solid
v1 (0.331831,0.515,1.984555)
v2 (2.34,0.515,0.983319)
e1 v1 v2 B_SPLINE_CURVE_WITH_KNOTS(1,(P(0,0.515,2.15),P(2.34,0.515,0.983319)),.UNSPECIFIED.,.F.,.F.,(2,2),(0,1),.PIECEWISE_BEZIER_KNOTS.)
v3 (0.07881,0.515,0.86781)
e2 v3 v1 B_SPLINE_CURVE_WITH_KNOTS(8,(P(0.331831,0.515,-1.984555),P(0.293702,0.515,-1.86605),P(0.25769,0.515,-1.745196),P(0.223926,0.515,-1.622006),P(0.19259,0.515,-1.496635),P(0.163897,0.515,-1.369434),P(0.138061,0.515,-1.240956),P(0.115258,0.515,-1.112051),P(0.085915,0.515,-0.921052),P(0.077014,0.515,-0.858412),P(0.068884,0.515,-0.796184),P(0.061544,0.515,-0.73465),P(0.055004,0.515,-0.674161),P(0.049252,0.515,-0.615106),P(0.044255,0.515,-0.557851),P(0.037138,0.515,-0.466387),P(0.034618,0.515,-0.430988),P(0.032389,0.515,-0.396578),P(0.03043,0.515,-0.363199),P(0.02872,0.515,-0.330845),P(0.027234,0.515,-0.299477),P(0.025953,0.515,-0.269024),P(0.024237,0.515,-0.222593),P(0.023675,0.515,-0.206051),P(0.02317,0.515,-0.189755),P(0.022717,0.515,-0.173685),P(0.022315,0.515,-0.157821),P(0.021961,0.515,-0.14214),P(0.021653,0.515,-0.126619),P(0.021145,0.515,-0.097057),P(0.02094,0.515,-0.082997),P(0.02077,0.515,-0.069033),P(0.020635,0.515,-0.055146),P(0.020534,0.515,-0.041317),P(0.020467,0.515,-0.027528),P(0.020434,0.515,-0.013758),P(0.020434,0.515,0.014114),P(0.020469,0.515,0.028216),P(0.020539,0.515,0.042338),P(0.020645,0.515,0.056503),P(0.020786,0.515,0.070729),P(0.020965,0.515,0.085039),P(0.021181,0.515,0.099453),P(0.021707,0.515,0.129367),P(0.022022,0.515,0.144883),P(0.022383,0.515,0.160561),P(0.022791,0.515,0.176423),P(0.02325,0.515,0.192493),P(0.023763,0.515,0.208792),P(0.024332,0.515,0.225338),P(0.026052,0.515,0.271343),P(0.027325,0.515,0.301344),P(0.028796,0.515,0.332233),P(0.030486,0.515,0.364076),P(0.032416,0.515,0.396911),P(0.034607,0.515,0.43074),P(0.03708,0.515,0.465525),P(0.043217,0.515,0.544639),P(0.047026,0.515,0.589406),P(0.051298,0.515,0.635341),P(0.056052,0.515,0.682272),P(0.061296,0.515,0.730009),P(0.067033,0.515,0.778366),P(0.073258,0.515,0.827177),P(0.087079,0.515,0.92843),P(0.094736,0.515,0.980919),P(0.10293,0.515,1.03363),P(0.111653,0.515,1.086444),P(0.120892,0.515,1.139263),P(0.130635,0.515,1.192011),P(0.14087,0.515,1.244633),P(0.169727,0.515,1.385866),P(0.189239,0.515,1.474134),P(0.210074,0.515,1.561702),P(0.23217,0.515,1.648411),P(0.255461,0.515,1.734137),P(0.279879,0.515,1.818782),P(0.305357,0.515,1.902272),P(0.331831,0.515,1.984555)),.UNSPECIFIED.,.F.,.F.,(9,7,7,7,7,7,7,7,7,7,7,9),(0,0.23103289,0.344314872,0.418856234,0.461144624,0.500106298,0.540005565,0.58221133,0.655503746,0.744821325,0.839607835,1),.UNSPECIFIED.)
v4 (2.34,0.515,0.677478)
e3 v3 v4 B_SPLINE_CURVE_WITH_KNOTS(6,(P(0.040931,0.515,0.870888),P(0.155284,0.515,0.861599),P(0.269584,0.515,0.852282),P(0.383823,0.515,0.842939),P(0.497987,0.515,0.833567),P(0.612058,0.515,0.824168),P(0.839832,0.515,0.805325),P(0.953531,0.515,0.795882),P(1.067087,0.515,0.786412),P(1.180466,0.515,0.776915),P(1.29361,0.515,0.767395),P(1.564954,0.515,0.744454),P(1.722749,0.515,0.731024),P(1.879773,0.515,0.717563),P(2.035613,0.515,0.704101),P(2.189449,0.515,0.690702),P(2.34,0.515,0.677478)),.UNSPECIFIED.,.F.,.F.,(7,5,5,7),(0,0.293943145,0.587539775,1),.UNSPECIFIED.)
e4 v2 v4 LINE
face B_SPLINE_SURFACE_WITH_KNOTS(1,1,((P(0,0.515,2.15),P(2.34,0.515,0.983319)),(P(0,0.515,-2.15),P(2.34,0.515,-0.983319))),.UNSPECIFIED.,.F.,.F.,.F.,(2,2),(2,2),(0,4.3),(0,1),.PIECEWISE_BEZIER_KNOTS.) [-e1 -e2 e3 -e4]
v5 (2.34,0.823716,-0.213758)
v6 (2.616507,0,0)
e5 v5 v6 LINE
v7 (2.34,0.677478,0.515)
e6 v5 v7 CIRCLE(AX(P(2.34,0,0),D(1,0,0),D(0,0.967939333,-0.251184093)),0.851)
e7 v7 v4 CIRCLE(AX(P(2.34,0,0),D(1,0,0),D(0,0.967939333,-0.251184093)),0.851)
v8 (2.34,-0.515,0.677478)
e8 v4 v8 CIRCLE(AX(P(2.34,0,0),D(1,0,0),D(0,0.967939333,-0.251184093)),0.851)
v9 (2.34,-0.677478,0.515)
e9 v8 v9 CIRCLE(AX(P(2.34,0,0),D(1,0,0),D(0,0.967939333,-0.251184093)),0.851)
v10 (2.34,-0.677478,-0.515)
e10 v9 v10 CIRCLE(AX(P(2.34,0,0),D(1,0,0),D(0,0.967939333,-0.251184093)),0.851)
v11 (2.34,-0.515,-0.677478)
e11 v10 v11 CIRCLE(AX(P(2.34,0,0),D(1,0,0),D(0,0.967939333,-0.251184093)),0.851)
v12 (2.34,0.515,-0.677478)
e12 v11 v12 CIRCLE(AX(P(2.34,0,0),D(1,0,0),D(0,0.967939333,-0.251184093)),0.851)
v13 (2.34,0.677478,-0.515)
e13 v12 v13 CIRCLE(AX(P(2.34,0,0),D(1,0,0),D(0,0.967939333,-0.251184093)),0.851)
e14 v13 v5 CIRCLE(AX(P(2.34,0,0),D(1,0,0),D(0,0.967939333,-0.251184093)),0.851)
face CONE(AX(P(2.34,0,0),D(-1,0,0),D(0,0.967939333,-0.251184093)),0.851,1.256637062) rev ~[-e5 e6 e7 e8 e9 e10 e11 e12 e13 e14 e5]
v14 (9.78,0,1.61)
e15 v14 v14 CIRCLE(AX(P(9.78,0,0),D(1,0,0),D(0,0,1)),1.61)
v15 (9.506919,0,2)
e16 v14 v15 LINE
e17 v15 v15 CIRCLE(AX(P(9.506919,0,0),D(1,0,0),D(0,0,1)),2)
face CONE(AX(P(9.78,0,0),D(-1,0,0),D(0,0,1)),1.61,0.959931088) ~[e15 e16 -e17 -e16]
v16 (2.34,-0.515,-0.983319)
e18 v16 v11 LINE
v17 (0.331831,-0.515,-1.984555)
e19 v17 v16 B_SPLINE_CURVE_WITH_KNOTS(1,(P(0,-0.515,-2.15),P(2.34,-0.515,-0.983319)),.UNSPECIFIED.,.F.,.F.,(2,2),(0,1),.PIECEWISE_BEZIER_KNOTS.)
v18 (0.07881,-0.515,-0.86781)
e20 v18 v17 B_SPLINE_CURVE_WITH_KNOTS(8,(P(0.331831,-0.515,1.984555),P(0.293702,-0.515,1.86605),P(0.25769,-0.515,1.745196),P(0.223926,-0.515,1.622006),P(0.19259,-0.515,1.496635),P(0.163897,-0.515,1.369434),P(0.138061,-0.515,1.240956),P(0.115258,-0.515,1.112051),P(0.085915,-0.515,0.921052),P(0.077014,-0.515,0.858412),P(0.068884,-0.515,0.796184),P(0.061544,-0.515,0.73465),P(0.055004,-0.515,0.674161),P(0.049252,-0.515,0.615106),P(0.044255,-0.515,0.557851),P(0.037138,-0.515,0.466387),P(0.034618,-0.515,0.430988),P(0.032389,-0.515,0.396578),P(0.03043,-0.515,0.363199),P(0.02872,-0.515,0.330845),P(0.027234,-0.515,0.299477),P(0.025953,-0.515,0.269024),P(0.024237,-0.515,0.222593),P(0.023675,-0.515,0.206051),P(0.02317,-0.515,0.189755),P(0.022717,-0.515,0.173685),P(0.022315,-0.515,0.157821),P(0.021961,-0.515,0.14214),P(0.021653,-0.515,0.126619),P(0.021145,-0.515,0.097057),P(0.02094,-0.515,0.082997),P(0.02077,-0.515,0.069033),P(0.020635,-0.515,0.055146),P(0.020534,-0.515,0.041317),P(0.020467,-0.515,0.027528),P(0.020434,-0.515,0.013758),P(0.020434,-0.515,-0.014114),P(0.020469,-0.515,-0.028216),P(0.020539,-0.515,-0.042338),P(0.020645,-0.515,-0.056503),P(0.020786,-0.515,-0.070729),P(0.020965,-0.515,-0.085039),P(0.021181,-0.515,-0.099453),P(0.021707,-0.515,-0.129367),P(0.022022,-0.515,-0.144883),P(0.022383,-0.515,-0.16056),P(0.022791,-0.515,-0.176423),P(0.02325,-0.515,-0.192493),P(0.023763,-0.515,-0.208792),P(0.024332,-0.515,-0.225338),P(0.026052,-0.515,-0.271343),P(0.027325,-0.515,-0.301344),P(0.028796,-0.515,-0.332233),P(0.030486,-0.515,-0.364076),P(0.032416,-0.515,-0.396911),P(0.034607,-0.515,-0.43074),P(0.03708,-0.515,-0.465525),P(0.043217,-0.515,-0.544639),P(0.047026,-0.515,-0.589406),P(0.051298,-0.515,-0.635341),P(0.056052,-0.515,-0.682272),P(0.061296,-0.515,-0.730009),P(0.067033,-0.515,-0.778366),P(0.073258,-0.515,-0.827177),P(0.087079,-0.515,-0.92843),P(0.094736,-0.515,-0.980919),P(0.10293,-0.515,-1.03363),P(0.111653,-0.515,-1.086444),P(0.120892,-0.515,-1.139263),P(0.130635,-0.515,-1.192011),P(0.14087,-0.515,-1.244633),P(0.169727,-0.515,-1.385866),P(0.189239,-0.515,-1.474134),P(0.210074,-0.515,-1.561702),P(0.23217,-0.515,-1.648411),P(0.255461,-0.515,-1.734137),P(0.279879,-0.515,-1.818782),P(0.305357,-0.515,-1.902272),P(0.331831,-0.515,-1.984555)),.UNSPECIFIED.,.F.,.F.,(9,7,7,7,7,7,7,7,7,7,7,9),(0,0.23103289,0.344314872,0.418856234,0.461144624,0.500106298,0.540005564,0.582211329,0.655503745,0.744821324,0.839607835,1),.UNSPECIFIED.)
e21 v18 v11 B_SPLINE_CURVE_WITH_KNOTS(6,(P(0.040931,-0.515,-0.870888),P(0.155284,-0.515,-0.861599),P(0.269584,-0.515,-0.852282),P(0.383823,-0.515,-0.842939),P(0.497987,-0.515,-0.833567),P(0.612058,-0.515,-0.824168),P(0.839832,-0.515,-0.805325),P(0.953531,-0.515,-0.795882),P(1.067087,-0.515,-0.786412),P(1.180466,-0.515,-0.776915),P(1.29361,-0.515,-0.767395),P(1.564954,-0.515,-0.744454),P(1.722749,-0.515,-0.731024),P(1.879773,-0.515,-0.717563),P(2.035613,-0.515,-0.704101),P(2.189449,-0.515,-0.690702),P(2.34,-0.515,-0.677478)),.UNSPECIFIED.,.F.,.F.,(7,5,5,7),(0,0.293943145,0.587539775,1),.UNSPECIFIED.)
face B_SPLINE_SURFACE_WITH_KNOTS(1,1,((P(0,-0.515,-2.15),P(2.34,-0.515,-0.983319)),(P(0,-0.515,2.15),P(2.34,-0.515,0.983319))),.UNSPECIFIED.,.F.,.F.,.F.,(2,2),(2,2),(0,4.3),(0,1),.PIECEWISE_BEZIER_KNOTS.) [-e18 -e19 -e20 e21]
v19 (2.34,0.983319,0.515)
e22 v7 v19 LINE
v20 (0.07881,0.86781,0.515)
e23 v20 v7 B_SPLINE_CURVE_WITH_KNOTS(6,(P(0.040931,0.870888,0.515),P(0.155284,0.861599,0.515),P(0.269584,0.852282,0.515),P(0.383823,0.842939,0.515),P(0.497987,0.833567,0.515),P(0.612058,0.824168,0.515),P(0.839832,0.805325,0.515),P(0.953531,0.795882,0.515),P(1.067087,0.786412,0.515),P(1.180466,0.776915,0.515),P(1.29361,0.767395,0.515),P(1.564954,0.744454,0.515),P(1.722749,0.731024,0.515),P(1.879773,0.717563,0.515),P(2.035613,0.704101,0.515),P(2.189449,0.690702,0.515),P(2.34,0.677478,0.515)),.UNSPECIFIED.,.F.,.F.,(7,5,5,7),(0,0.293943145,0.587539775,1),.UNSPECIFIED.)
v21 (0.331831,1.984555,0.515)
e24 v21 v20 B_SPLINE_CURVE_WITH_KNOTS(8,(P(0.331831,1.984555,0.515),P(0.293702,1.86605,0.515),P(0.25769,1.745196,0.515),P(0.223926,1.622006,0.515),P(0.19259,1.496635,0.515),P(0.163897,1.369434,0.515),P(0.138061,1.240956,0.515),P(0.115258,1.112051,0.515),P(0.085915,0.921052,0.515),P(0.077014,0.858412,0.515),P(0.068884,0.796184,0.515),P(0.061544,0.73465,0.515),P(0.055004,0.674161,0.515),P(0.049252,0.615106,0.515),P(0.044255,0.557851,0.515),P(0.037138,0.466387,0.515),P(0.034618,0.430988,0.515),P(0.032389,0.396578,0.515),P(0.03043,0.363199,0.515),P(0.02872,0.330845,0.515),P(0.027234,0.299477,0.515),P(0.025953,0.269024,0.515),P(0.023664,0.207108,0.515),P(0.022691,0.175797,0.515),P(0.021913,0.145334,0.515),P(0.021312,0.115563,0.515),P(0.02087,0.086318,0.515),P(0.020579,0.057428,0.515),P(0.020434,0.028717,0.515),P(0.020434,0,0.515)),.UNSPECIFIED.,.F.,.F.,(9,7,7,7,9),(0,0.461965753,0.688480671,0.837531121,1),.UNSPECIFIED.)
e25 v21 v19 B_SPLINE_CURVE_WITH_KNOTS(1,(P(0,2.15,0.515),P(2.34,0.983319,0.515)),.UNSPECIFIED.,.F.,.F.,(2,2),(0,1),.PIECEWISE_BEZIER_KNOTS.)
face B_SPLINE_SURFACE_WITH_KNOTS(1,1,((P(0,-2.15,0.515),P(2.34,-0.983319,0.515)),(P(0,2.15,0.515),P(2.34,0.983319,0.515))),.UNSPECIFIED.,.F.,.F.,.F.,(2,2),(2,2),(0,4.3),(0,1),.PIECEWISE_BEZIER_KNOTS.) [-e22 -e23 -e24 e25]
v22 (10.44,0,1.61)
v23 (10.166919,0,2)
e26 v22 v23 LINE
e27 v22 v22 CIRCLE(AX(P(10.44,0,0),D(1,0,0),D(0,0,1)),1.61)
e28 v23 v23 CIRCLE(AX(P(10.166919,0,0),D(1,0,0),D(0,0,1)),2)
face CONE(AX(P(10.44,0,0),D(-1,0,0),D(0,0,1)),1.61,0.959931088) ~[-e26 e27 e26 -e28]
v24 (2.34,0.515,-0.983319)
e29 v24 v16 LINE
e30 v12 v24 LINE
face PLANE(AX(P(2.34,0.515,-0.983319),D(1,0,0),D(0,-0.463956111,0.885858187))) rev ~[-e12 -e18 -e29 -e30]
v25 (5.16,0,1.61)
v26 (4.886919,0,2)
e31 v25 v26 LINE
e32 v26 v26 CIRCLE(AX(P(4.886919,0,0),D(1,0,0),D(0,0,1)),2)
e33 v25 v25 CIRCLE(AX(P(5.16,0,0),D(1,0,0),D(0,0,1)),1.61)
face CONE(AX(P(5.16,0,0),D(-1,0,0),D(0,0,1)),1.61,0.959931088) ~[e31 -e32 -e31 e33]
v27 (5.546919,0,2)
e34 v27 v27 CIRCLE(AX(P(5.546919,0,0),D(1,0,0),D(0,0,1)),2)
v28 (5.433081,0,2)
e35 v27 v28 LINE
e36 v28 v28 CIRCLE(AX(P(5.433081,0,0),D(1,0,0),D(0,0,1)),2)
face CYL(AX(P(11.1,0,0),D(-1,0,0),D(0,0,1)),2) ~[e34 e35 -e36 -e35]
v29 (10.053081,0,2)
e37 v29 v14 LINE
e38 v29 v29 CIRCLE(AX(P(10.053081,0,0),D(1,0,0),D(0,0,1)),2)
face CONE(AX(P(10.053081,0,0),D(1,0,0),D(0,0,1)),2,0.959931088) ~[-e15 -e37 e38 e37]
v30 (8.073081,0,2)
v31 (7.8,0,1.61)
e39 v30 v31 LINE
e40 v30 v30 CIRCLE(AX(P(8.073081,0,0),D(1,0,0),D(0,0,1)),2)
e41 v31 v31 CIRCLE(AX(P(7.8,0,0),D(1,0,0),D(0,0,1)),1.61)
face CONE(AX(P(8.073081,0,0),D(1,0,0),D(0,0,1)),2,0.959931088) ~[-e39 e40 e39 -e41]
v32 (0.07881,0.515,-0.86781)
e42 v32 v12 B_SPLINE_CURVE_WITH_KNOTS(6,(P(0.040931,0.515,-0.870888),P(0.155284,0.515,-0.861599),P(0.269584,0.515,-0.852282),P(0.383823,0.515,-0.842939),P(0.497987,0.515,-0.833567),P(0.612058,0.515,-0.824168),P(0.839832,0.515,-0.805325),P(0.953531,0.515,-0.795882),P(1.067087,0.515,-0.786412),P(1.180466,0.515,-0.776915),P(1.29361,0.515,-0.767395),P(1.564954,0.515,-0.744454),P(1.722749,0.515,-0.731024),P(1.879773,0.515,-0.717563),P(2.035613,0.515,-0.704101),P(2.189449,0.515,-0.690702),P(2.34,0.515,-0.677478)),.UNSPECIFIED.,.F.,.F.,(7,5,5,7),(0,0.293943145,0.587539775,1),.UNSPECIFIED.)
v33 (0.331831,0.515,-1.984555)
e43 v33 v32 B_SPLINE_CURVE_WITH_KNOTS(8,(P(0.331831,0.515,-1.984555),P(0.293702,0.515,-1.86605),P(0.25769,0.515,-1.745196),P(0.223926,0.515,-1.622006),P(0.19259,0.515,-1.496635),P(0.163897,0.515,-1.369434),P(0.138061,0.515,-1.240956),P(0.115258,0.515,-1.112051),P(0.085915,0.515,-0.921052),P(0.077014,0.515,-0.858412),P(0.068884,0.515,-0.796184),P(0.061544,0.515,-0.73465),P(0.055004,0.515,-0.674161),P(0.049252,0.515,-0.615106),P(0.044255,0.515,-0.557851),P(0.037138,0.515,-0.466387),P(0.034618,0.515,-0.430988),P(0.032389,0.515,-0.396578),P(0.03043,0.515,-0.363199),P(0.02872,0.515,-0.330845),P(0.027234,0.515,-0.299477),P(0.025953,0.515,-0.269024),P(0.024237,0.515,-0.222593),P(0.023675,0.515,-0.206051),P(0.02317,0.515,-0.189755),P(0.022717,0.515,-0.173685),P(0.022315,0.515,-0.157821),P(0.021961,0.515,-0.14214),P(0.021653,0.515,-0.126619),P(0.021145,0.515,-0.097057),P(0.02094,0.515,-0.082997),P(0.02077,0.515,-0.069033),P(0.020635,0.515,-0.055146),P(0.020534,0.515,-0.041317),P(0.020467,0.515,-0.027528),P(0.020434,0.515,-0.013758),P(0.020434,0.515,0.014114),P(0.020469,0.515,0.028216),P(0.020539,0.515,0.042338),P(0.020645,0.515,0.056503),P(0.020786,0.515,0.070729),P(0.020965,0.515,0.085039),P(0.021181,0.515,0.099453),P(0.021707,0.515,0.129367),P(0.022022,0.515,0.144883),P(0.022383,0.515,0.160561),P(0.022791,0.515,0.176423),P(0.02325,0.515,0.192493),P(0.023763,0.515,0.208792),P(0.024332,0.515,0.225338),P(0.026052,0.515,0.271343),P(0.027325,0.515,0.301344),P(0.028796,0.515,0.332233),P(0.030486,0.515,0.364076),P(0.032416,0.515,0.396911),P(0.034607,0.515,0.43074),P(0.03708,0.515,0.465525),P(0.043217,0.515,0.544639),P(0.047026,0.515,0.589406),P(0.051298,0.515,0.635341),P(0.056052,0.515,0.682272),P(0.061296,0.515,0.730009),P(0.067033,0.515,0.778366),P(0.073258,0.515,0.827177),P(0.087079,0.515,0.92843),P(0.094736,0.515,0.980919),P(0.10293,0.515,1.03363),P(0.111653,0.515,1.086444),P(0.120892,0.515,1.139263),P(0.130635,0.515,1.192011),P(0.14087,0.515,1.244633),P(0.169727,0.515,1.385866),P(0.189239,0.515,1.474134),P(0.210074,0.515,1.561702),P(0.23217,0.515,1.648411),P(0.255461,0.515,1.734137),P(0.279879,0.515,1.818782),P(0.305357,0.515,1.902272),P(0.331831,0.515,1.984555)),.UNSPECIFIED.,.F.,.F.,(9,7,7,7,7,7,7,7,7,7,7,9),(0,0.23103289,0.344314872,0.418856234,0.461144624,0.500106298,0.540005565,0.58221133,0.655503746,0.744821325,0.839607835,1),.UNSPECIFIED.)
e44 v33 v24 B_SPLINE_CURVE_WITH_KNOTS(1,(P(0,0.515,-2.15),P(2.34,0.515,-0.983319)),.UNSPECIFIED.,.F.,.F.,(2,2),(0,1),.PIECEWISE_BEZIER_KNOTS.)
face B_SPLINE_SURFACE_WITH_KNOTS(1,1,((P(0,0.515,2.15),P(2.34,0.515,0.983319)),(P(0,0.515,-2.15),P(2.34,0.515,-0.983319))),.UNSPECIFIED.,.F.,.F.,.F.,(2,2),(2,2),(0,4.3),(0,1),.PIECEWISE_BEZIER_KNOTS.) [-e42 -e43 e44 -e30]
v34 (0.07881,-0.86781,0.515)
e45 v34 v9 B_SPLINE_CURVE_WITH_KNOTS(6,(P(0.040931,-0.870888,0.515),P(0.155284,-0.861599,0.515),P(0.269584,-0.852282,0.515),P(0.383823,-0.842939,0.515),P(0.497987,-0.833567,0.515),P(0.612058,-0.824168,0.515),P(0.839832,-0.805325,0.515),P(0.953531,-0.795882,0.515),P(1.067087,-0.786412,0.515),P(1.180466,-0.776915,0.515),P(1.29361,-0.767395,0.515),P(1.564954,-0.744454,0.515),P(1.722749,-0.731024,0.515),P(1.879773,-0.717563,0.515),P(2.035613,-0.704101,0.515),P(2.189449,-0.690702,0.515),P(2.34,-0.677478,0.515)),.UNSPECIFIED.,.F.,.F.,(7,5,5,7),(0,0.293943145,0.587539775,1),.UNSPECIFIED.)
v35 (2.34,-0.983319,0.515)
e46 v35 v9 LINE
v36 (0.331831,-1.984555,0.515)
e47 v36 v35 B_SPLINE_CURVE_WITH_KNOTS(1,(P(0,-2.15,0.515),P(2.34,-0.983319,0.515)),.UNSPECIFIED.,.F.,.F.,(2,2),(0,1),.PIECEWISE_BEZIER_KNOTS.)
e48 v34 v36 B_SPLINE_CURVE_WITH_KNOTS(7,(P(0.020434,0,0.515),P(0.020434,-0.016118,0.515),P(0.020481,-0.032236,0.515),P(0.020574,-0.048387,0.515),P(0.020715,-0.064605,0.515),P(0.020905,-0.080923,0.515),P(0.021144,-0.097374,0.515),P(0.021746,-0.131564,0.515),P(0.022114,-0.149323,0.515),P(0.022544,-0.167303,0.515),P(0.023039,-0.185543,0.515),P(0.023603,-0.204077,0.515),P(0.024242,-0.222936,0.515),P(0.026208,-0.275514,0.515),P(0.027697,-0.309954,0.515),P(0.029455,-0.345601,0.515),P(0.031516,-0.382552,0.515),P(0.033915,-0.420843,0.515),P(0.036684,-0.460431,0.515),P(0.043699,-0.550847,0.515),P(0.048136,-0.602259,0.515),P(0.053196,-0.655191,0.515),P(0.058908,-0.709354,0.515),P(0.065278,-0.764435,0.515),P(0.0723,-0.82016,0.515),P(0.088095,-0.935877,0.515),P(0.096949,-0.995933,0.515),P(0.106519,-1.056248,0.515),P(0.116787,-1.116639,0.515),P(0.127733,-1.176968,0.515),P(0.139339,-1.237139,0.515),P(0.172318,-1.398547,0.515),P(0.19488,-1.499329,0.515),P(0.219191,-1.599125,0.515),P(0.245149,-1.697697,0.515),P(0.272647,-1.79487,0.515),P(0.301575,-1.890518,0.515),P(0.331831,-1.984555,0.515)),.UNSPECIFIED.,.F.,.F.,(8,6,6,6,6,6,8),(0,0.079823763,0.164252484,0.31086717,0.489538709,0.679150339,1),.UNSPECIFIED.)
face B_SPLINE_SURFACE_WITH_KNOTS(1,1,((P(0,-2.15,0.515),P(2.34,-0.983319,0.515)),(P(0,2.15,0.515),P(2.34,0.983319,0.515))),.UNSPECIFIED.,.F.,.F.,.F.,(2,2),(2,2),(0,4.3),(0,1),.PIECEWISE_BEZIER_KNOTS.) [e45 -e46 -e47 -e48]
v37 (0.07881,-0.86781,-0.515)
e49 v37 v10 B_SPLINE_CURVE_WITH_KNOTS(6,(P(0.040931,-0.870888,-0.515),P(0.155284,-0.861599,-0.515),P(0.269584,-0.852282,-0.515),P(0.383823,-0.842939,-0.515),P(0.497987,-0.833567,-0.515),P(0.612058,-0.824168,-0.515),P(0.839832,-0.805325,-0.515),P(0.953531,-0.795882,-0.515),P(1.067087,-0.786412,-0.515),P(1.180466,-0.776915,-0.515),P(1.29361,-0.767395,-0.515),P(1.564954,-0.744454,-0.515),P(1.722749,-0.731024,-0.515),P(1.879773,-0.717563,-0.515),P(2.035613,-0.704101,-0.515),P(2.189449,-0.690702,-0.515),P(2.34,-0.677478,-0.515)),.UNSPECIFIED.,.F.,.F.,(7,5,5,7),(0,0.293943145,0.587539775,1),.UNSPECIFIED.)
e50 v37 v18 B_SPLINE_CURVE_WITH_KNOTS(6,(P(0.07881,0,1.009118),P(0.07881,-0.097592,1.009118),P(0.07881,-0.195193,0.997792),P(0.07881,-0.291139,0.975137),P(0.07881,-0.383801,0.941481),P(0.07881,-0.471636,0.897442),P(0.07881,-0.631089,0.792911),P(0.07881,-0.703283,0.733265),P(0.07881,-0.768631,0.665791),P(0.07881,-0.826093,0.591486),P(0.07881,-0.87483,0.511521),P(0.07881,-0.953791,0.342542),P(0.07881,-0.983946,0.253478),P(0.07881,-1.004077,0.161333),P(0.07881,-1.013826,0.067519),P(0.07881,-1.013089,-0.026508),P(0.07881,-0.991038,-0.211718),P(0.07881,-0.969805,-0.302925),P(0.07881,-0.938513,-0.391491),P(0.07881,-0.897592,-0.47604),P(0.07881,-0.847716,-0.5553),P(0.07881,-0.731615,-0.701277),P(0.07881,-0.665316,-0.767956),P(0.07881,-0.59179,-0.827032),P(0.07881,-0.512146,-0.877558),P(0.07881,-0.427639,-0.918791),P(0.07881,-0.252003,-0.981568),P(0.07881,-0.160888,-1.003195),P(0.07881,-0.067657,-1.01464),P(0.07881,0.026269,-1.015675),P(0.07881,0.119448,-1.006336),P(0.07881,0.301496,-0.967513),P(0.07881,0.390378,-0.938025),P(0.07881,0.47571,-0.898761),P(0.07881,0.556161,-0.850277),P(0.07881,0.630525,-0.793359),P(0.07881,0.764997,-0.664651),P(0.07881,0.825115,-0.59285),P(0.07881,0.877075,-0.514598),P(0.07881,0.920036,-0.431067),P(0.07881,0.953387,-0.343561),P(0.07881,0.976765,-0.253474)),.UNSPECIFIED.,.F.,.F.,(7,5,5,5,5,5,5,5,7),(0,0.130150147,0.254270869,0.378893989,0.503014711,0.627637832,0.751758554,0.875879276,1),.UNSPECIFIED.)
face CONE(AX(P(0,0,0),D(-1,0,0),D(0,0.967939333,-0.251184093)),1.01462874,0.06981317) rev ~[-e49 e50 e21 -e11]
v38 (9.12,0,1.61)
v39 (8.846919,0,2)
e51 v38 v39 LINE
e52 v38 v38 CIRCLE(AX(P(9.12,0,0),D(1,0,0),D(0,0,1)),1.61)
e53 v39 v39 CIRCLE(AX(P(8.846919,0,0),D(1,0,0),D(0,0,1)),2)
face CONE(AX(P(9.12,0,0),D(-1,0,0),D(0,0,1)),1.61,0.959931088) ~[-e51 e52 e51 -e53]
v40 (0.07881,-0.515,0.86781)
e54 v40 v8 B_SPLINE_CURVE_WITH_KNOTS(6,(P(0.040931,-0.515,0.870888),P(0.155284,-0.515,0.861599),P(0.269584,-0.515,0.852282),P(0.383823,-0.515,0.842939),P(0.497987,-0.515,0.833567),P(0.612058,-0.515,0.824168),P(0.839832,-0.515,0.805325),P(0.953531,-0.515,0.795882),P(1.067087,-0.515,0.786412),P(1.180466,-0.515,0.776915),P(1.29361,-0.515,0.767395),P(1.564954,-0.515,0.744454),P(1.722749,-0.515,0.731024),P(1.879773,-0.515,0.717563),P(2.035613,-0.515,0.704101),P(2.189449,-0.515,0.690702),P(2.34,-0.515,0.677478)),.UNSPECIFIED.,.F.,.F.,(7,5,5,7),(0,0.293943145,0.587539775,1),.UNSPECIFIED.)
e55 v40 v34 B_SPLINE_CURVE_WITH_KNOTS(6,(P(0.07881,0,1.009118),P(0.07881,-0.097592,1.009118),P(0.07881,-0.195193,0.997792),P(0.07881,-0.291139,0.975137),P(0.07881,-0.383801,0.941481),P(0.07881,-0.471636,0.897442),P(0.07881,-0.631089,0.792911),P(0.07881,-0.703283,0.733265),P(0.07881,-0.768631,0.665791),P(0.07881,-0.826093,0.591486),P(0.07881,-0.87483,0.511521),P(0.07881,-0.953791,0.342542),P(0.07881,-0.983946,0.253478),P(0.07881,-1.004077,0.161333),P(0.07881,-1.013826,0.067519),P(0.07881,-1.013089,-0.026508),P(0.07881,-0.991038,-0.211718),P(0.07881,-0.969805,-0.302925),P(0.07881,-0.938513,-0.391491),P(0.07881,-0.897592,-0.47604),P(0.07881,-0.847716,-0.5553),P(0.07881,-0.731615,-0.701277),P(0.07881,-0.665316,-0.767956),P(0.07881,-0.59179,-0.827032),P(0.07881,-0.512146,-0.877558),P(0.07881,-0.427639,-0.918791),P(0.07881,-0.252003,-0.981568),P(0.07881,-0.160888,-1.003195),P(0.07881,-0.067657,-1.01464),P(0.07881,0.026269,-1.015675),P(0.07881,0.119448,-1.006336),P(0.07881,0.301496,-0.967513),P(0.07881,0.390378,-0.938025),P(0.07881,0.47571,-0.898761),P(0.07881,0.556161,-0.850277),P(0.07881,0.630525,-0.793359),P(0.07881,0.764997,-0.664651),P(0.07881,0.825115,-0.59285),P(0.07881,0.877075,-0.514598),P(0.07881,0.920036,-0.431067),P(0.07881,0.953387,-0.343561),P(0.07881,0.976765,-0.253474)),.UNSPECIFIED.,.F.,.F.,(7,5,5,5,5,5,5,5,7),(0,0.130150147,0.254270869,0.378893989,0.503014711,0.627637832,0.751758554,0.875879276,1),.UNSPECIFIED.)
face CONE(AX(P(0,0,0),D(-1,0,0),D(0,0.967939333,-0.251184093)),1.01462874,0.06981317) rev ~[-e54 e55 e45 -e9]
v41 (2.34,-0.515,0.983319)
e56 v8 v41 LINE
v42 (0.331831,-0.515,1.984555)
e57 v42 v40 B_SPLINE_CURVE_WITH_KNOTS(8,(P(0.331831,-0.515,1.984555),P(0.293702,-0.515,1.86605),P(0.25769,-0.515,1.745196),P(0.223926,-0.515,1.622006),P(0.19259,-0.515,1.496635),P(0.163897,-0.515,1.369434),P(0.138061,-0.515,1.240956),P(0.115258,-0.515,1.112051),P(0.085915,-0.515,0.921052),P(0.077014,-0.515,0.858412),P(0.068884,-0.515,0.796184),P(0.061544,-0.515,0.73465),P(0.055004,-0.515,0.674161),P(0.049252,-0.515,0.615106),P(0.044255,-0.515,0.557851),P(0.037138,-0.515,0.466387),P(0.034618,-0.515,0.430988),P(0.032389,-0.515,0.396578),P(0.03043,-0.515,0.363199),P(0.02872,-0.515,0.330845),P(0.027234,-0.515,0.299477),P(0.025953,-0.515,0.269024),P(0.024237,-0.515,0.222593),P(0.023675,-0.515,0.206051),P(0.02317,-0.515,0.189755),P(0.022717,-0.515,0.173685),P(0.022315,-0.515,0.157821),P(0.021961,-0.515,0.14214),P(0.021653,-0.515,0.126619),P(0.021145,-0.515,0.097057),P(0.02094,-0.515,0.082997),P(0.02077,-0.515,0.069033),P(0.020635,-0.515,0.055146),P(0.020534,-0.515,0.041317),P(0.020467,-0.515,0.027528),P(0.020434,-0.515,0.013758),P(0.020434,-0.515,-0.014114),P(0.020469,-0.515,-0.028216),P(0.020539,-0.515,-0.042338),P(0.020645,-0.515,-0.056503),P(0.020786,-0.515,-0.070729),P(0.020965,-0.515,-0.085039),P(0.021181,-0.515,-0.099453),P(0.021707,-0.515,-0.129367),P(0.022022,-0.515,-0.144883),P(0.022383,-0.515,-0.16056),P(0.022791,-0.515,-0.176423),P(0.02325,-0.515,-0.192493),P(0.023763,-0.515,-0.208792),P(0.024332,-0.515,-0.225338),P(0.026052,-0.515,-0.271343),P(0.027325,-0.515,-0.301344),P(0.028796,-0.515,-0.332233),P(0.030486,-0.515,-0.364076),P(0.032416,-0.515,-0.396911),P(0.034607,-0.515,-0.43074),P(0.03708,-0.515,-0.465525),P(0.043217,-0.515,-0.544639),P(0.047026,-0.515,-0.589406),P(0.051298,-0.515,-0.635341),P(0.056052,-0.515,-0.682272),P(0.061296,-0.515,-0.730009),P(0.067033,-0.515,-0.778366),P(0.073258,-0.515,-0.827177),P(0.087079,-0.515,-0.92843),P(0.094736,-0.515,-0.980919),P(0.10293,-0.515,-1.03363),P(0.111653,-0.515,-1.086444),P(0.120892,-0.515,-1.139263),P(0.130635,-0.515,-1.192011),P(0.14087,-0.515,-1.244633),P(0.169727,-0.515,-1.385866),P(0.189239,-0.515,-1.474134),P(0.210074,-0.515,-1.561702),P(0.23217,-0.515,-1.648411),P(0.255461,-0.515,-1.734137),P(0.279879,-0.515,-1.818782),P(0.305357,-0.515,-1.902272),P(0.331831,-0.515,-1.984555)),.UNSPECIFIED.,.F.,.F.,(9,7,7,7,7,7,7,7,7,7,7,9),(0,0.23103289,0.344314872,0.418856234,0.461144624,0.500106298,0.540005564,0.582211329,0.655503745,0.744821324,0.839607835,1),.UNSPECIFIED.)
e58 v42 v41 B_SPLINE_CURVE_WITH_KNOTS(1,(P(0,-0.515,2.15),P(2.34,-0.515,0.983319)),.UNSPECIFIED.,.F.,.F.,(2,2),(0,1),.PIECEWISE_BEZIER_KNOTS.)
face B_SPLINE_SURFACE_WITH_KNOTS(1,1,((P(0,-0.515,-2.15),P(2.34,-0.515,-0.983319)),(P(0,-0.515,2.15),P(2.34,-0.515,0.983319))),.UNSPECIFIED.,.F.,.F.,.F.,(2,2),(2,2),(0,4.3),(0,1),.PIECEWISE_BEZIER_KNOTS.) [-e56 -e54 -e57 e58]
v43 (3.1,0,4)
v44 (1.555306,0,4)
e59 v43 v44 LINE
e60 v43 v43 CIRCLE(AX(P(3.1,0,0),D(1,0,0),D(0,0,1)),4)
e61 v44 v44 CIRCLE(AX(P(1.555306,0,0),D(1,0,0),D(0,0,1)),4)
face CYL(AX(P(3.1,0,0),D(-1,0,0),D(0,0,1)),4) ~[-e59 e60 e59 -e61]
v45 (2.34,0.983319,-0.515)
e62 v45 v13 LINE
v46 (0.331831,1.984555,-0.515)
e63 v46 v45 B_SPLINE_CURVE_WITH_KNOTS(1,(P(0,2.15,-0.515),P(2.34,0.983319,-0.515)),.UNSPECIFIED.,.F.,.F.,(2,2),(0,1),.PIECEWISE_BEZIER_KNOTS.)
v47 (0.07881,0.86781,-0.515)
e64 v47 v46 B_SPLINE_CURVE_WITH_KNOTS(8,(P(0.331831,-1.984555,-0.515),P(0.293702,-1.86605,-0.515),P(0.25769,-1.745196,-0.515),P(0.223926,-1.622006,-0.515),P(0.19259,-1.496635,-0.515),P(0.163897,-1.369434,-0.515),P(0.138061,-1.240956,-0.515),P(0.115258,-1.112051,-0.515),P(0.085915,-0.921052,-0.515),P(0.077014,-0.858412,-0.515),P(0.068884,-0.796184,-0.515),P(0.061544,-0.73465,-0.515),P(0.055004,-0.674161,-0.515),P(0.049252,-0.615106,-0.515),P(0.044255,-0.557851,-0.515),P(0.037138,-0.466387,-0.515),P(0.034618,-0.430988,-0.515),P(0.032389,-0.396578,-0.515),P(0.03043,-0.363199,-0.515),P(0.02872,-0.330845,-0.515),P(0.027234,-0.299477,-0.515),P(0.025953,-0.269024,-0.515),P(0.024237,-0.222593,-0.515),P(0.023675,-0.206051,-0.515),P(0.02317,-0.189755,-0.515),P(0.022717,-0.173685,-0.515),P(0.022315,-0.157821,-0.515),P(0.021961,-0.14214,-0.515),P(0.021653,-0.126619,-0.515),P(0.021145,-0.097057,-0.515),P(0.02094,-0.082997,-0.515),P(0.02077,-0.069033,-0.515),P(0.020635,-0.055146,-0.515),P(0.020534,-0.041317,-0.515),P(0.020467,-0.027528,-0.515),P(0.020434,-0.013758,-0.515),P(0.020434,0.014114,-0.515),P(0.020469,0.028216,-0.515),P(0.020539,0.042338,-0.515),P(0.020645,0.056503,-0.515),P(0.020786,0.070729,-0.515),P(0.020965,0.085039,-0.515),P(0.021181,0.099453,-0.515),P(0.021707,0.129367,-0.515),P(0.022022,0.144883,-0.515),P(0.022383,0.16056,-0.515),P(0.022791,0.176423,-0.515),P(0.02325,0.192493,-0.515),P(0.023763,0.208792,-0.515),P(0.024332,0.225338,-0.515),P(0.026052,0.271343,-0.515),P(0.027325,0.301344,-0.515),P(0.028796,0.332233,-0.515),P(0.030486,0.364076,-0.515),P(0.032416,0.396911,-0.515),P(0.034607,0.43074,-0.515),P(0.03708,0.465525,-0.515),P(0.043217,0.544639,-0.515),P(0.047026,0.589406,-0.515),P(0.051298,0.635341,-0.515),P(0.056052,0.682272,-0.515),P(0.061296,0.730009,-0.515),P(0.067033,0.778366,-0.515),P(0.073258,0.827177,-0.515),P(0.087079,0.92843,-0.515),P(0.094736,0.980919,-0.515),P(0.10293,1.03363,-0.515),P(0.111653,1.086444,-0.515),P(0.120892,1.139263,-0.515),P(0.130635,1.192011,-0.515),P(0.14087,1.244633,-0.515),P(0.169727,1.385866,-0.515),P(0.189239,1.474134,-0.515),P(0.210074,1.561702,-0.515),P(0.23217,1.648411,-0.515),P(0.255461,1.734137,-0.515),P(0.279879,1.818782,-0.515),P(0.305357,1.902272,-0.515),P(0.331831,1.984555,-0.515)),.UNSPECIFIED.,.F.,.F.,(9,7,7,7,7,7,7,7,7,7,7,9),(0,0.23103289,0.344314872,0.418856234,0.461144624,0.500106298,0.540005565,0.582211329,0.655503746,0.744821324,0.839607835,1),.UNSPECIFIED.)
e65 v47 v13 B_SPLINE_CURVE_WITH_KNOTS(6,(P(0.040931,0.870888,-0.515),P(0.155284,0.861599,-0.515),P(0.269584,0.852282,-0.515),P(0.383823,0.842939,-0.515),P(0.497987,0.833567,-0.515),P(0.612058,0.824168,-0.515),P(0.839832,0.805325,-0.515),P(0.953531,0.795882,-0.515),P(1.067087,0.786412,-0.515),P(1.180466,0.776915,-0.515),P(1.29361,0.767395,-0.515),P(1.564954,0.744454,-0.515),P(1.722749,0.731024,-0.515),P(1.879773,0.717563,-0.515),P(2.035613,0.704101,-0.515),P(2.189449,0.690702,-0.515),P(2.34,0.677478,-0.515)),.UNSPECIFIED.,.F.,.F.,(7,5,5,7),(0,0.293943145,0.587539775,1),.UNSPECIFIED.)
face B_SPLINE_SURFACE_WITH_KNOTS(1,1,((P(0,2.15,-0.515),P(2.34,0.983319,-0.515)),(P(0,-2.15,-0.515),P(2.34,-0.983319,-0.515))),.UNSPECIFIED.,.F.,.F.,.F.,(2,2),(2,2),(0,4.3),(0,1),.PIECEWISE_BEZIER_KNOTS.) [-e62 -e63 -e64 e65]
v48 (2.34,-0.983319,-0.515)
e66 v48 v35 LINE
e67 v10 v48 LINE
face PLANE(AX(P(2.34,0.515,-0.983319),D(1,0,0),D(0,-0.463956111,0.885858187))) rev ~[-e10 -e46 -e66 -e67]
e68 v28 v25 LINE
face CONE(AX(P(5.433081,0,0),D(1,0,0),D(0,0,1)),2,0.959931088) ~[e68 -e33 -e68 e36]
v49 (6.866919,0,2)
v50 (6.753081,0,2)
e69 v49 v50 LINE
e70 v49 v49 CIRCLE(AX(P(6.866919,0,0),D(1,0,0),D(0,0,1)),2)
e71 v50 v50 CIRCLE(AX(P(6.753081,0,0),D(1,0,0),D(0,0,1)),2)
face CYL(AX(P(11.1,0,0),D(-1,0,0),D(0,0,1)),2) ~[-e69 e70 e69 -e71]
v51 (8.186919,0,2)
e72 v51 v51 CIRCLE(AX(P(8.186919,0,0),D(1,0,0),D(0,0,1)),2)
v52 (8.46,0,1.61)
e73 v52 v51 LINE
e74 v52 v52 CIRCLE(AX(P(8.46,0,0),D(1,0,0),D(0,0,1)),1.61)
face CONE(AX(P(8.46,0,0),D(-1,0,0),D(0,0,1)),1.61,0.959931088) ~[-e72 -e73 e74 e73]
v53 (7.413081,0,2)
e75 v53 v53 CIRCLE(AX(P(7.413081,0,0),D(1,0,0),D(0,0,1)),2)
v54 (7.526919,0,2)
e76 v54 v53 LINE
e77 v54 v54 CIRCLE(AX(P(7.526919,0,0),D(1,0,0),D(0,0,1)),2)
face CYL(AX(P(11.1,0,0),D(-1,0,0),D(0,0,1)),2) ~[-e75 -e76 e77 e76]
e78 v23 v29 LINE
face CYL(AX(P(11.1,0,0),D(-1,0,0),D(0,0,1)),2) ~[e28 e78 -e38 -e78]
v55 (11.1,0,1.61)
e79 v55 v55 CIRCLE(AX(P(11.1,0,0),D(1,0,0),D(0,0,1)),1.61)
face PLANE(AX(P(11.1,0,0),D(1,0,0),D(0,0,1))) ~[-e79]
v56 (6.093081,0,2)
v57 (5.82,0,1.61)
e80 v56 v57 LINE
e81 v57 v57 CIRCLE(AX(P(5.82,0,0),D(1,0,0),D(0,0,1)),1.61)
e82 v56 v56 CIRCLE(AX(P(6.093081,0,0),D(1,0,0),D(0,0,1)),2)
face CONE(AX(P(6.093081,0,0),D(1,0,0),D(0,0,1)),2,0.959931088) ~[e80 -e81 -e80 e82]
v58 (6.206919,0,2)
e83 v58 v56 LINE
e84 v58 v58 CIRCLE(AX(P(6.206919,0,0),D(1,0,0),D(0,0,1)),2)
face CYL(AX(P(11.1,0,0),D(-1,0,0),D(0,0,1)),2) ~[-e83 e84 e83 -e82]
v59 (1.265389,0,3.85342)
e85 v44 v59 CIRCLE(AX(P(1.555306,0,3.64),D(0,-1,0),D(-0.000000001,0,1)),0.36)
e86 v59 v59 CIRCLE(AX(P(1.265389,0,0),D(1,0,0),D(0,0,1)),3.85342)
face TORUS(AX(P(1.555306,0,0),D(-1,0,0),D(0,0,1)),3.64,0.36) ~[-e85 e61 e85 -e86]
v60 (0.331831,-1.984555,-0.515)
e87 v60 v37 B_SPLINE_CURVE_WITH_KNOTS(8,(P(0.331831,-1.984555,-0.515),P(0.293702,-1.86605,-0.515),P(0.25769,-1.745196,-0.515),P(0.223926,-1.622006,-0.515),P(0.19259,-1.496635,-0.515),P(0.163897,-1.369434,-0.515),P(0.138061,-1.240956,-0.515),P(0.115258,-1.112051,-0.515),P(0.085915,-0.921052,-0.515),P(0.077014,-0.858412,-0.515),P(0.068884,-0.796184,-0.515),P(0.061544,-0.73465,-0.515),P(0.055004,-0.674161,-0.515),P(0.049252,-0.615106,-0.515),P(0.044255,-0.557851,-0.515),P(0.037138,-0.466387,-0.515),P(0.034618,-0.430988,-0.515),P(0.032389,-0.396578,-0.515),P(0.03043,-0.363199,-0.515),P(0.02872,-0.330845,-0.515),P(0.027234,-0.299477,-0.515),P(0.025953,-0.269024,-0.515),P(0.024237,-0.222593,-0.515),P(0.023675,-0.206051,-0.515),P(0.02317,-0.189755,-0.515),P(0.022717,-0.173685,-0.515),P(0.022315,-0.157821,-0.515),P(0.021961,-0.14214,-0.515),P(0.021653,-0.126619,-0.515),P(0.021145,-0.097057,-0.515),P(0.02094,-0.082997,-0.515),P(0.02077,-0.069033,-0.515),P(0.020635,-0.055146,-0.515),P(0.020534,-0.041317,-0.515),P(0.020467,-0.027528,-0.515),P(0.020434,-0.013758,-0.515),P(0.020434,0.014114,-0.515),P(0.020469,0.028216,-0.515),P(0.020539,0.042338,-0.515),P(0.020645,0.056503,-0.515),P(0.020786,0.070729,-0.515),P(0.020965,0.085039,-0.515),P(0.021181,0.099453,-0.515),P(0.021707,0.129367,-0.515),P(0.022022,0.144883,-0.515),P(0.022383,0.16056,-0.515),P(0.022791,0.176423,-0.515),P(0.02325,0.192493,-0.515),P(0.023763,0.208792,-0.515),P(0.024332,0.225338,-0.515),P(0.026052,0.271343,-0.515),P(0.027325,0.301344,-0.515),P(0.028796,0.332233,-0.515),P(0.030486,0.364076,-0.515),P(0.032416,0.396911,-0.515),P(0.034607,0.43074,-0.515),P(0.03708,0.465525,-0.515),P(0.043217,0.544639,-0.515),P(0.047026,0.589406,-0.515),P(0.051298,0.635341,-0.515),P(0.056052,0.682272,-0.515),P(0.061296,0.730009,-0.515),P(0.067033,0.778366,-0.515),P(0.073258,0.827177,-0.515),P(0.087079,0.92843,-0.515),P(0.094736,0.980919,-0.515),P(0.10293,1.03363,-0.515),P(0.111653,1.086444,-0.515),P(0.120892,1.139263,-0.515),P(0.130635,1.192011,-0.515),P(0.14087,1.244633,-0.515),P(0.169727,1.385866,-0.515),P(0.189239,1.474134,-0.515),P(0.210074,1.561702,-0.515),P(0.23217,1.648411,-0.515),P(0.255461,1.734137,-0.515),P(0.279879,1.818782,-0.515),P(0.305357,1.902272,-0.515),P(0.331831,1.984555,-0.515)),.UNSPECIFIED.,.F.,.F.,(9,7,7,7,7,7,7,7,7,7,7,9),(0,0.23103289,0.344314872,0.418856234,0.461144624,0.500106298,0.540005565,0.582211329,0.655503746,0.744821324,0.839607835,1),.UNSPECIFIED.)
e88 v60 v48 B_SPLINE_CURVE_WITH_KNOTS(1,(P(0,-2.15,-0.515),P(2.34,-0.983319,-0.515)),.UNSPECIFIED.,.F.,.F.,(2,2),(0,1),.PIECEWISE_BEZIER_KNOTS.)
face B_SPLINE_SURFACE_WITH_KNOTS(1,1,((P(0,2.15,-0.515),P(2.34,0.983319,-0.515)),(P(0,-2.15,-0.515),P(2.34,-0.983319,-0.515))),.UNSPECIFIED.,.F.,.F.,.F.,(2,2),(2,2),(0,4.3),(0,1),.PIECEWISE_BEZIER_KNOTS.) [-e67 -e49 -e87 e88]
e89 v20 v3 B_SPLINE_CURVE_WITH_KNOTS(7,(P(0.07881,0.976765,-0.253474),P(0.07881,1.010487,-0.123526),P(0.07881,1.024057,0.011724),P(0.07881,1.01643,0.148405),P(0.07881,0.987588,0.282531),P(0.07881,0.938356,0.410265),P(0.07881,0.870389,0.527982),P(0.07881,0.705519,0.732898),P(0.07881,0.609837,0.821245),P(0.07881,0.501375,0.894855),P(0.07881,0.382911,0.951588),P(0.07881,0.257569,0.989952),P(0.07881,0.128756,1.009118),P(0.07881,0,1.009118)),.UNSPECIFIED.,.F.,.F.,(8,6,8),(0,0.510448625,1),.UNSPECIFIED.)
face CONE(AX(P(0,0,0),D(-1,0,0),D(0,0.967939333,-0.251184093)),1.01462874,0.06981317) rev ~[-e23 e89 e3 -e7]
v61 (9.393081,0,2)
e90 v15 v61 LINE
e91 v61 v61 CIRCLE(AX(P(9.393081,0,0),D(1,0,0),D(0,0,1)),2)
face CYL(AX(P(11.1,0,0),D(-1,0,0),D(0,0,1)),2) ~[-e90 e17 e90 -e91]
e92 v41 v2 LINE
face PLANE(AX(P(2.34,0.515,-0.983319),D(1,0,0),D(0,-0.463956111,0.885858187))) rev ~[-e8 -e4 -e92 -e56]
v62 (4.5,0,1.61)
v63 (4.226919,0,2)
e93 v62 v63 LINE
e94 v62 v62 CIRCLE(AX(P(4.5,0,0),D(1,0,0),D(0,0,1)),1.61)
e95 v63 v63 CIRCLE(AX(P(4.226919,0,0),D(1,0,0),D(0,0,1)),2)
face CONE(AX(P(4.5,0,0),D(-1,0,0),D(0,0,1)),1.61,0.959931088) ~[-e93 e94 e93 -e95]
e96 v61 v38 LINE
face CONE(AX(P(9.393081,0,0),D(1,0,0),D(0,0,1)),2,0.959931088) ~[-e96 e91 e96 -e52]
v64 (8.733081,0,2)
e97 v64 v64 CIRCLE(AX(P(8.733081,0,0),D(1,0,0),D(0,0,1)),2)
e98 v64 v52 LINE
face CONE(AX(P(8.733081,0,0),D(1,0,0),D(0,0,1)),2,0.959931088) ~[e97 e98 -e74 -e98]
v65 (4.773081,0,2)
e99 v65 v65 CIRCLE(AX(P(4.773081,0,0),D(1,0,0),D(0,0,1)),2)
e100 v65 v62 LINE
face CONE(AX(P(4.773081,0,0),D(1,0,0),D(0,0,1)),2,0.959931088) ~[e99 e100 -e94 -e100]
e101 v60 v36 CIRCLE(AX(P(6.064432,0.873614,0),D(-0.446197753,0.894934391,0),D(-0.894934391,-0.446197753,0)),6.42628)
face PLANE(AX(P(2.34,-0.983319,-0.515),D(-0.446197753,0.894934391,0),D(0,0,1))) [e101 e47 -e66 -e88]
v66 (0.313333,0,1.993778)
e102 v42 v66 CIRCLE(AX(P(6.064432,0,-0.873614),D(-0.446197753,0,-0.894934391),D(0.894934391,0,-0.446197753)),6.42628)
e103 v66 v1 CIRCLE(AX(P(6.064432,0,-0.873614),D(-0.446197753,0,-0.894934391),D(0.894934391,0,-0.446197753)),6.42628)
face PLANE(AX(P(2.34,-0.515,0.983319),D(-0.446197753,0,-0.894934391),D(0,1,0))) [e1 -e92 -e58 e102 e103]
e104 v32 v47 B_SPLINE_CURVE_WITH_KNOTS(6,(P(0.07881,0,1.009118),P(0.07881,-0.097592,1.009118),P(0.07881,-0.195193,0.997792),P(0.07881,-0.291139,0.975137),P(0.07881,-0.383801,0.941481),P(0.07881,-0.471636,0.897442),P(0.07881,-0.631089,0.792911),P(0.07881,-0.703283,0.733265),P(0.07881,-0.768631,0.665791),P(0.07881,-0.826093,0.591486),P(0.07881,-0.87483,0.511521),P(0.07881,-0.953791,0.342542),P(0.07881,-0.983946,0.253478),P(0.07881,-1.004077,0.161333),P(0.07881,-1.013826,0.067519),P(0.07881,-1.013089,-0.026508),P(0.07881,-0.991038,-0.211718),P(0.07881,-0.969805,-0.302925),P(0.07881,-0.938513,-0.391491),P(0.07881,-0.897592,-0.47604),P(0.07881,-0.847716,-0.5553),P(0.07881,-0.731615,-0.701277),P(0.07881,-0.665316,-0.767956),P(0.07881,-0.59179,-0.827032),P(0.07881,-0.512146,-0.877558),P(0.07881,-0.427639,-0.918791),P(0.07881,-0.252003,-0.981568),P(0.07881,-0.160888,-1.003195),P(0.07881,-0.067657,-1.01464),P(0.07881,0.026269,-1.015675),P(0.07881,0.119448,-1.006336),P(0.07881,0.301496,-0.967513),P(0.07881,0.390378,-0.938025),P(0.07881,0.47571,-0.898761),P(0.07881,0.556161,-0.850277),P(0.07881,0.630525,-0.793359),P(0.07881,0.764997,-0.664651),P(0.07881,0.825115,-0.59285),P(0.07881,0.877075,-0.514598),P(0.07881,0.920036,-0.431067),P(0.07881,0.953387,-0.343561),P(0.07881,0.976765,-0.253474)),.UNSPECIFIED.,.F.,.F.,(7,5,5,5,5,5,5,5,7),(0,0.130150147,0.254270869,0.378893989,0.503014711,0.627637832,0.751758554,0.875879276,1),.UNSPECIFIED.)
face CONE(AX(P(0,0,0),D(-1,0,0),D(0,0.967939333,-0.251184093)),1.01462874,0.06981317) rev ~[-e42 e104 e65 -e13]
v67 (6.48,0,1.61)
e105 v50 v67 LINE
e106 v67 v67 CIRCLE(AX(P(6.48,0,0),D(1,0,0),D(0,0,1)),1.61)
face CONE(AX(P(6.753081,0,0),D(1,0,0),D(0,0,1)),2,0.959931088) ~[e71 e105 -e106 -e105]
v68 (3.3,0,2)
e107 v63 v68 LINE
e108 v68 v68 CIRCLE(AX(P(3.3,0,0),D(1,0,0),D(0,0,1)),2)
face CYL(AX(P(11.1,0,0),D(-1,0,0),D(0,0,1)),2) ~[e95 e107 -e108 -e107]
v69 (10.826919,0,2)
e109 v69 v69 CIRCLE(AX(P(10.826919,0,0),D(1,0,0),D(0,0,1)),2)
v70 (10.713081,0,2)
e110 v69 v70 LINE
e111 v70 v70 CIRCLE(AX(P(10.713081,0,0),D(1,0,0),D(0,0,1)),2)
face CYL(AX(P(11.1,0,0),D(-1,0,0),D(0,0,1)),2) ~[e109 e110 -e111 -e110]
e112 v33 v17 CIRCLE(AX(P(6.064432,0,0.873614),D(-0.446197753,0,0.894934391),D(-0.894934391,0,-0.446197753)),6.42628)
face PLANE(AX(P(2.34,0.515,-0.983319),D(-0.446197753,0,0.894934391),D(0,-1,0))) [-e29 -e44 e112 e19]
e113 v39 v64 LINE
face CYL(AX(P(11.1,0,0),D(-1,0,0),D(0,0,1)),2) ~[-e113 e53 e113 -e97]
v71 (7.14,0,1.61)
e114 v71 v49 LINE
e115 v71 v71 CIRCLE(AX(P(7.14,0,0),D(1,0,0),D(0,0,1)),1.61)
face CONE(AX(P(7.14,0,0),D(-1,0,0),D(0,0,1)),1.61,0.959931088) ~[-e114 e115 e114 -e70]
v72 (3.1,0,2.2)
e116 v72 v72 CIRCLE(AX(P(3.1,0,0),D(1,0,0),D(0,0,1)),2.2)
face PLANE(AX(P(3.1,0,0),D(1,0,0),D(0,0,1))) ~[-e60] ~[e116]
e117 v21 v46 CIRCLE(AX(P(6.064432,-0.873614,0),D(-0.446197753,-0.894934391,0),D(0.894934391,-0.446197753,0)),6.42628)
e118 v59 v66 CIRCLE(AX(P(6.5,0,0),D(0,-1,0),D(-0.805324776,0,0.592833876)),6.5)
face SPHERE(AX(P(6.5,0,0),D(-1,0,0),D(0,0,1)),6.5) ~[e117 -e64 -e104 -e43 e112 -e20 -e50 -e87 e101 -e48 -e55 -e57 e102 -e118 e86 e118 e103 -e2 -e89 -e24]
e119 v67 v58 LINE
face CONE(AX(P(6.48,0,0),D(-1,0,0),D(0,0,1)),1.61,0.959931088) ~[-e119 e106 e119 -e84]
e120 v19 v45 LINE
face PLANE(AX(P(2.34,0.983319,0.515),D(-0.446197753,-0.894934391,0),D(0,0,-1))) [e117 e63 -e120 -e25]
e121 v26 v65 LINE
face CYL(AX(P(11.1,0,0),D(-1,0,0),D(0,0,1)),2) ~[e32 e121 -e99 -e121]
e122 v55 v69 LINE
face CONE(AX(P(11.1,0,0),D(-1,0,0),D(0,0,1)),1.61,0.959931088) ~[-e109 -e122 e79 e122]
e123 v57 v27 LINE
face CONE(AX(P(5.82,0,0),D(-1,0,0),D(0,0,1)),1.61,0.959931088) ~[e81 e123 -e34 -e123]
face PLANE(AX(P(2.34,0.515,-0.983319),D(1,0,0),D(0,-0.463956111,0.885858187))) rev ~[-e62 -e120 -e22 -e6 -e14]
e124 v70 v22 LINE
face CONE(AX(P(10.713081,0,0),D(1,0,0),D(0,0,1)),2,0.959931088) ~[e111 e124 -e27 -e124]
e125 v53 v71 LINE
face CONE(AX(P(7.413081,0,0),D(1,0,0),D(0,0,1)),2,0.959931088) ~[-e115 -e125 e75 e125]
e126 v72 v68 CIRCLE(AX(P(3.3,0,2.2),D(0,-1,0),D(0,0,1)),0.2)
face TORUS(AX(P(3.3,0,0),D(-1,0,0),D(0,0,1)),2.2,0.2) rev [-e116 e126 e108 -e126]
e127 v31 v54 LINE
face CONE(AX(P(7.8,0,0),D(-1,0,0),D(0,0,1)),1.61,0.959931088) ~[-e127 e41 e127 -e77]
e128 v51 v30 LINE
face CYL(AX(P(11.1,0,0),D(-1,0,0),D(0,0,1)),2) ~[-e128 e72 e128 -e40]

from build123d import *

# Parameters (mm, degrees)
FILLET1_R       = 0.2
RECPAT_COUNT    = 2
RECPAT_ANGLE    = 90
THDSCHPAT_COUNT = 11
THDSCHPAT_PITCH = 0.66


with BuildPart() as part:
    # BodySke → Base-Revolve (revolve)
    with BuildSketch(Plane.XY, mode=Mode.PRIVATE) as base_revolve_sk:
        with BuildLine():
            Line((3.1, 2), (3.1, 4))
            Line((3.1, 4), (1.555305874, 4))
            ThreePointArc((1.555305874, 4), (1.392873227, 3.961271902), (1.265388955, 3.853420195))
            ThreePointArc((1.265388955, 3.853420195), (0.324444487, 2.027933456), (0, 0))
            Line((0, 0), (11.1, 0))
            Line((11.1, 0), (11.1, 2))
            Line((11.1, 2), (3.1, 2))
        make_face()
    revolve(base_revolve_sk.sketch.rotate(Axis((1.555305874, 0, 0), (1, 0, 0)), 90), axis=Axis((1.555305874, 0, 0), (1, 0, 0)))

    # Fillet1
    fillet1_edges = [part.edges().sort_by_distance(p)[0] for p in [
        (3.1, 0, -2),
    ]]
    fillet(fillet1_edges, radius=FILLET1_R)

    # Sketch3 → Recess section 0
    with BuildSketch(Plane(origin=(0, 0, 0), x_dir=(0, 0, -1), z_dir=(1, 0, 0))):
        with BuildLine():
            Line((0.515, -2.15), (-0.515, -2.15))
            Line((-0.515, -2.15), (-0.515, 2.15))
            Line((-0.515, 2.15), (0.515, 2.15))
            Line((0.515, 2.15), (0.515, -2.15))
        make_face()
    # Sketch4 → Recess section 1
    with BuildSketch(Plane(origin=(2.34, 0, 0), x_dir=(0, 0, -1), z_dir=(1, 0, 0))):
        with BuildLine():
            Line((0.515, -0.983319232), (-0.515, -0.983319232))
            Line((-0.515, -0.983319232), (-0.515, 0.983319232))
            Line((-0.515, 0.983319232), (0.515, 0.983319232))
            Line((0.515, 0.983319232), (0.515, -0.983319232))
        make_face()
    recess = loft(mode=Mode.SUBTRACT)

    # RecPat: Recess ×2 about axis
    recpat_axis = Axis((0, 0, 0), (1, 0, 0))
    for i in range(1, RECPAT_COUNT):
        add(recess.rotate(recpat_axis, i * RECPAT_ANGLE / (RECPAT_COUNT - 1)), mode=Mode.SUBTRACT)

    # RecCorSke → RecessCore (revolve, cut)
    with BuildSketch(Plane.XY, mode=Mode.PRIVATE) as recesscore_sk:
        Polygon((0, 0), (0, 1.01462874), (2.34, 0.851), (2.616506661, 0), align=None)
    revolve(recesscore_sk.sketch.rotate(Axis((-3.175, 0, 0), (1, 0, 0)), 345.452408241), axis=Axis((-3.175, 0, 0), (1, 0, 0)), mode=Mode.SUBTRACT)

    # ThdSchSke → ThreadSchematic (revolve, cut)
    with BuildSketch(Plane.XY, mode=Mode.PRIVATE) as threadschematic_sk:
        Polygon((4.5, -1.61), (4.22691906, -2), (4.22691906, -2.5), (4.77308094, -2.5), (4.77308094, -2), align=None)
    threadschematic = revolve(threadschematic_sk.sketch.rotate(Axis((-3.175, 0, 0), (1, 0, 0)), 270), axis=Axis((-3.175, 0, 0), (1, 0, 0)), mode=Mode.SUBTRACT)

    # ThdSchPat: ThreadSchematic ×11
    with Locations(*[(i * THDSCHPAT_PITCH, 0, 0) for i in range(1, THDSCHPAT_COUNT)]):
        add(threadschematic, mode=Mode.SUBTRACT)


solid = part.part
